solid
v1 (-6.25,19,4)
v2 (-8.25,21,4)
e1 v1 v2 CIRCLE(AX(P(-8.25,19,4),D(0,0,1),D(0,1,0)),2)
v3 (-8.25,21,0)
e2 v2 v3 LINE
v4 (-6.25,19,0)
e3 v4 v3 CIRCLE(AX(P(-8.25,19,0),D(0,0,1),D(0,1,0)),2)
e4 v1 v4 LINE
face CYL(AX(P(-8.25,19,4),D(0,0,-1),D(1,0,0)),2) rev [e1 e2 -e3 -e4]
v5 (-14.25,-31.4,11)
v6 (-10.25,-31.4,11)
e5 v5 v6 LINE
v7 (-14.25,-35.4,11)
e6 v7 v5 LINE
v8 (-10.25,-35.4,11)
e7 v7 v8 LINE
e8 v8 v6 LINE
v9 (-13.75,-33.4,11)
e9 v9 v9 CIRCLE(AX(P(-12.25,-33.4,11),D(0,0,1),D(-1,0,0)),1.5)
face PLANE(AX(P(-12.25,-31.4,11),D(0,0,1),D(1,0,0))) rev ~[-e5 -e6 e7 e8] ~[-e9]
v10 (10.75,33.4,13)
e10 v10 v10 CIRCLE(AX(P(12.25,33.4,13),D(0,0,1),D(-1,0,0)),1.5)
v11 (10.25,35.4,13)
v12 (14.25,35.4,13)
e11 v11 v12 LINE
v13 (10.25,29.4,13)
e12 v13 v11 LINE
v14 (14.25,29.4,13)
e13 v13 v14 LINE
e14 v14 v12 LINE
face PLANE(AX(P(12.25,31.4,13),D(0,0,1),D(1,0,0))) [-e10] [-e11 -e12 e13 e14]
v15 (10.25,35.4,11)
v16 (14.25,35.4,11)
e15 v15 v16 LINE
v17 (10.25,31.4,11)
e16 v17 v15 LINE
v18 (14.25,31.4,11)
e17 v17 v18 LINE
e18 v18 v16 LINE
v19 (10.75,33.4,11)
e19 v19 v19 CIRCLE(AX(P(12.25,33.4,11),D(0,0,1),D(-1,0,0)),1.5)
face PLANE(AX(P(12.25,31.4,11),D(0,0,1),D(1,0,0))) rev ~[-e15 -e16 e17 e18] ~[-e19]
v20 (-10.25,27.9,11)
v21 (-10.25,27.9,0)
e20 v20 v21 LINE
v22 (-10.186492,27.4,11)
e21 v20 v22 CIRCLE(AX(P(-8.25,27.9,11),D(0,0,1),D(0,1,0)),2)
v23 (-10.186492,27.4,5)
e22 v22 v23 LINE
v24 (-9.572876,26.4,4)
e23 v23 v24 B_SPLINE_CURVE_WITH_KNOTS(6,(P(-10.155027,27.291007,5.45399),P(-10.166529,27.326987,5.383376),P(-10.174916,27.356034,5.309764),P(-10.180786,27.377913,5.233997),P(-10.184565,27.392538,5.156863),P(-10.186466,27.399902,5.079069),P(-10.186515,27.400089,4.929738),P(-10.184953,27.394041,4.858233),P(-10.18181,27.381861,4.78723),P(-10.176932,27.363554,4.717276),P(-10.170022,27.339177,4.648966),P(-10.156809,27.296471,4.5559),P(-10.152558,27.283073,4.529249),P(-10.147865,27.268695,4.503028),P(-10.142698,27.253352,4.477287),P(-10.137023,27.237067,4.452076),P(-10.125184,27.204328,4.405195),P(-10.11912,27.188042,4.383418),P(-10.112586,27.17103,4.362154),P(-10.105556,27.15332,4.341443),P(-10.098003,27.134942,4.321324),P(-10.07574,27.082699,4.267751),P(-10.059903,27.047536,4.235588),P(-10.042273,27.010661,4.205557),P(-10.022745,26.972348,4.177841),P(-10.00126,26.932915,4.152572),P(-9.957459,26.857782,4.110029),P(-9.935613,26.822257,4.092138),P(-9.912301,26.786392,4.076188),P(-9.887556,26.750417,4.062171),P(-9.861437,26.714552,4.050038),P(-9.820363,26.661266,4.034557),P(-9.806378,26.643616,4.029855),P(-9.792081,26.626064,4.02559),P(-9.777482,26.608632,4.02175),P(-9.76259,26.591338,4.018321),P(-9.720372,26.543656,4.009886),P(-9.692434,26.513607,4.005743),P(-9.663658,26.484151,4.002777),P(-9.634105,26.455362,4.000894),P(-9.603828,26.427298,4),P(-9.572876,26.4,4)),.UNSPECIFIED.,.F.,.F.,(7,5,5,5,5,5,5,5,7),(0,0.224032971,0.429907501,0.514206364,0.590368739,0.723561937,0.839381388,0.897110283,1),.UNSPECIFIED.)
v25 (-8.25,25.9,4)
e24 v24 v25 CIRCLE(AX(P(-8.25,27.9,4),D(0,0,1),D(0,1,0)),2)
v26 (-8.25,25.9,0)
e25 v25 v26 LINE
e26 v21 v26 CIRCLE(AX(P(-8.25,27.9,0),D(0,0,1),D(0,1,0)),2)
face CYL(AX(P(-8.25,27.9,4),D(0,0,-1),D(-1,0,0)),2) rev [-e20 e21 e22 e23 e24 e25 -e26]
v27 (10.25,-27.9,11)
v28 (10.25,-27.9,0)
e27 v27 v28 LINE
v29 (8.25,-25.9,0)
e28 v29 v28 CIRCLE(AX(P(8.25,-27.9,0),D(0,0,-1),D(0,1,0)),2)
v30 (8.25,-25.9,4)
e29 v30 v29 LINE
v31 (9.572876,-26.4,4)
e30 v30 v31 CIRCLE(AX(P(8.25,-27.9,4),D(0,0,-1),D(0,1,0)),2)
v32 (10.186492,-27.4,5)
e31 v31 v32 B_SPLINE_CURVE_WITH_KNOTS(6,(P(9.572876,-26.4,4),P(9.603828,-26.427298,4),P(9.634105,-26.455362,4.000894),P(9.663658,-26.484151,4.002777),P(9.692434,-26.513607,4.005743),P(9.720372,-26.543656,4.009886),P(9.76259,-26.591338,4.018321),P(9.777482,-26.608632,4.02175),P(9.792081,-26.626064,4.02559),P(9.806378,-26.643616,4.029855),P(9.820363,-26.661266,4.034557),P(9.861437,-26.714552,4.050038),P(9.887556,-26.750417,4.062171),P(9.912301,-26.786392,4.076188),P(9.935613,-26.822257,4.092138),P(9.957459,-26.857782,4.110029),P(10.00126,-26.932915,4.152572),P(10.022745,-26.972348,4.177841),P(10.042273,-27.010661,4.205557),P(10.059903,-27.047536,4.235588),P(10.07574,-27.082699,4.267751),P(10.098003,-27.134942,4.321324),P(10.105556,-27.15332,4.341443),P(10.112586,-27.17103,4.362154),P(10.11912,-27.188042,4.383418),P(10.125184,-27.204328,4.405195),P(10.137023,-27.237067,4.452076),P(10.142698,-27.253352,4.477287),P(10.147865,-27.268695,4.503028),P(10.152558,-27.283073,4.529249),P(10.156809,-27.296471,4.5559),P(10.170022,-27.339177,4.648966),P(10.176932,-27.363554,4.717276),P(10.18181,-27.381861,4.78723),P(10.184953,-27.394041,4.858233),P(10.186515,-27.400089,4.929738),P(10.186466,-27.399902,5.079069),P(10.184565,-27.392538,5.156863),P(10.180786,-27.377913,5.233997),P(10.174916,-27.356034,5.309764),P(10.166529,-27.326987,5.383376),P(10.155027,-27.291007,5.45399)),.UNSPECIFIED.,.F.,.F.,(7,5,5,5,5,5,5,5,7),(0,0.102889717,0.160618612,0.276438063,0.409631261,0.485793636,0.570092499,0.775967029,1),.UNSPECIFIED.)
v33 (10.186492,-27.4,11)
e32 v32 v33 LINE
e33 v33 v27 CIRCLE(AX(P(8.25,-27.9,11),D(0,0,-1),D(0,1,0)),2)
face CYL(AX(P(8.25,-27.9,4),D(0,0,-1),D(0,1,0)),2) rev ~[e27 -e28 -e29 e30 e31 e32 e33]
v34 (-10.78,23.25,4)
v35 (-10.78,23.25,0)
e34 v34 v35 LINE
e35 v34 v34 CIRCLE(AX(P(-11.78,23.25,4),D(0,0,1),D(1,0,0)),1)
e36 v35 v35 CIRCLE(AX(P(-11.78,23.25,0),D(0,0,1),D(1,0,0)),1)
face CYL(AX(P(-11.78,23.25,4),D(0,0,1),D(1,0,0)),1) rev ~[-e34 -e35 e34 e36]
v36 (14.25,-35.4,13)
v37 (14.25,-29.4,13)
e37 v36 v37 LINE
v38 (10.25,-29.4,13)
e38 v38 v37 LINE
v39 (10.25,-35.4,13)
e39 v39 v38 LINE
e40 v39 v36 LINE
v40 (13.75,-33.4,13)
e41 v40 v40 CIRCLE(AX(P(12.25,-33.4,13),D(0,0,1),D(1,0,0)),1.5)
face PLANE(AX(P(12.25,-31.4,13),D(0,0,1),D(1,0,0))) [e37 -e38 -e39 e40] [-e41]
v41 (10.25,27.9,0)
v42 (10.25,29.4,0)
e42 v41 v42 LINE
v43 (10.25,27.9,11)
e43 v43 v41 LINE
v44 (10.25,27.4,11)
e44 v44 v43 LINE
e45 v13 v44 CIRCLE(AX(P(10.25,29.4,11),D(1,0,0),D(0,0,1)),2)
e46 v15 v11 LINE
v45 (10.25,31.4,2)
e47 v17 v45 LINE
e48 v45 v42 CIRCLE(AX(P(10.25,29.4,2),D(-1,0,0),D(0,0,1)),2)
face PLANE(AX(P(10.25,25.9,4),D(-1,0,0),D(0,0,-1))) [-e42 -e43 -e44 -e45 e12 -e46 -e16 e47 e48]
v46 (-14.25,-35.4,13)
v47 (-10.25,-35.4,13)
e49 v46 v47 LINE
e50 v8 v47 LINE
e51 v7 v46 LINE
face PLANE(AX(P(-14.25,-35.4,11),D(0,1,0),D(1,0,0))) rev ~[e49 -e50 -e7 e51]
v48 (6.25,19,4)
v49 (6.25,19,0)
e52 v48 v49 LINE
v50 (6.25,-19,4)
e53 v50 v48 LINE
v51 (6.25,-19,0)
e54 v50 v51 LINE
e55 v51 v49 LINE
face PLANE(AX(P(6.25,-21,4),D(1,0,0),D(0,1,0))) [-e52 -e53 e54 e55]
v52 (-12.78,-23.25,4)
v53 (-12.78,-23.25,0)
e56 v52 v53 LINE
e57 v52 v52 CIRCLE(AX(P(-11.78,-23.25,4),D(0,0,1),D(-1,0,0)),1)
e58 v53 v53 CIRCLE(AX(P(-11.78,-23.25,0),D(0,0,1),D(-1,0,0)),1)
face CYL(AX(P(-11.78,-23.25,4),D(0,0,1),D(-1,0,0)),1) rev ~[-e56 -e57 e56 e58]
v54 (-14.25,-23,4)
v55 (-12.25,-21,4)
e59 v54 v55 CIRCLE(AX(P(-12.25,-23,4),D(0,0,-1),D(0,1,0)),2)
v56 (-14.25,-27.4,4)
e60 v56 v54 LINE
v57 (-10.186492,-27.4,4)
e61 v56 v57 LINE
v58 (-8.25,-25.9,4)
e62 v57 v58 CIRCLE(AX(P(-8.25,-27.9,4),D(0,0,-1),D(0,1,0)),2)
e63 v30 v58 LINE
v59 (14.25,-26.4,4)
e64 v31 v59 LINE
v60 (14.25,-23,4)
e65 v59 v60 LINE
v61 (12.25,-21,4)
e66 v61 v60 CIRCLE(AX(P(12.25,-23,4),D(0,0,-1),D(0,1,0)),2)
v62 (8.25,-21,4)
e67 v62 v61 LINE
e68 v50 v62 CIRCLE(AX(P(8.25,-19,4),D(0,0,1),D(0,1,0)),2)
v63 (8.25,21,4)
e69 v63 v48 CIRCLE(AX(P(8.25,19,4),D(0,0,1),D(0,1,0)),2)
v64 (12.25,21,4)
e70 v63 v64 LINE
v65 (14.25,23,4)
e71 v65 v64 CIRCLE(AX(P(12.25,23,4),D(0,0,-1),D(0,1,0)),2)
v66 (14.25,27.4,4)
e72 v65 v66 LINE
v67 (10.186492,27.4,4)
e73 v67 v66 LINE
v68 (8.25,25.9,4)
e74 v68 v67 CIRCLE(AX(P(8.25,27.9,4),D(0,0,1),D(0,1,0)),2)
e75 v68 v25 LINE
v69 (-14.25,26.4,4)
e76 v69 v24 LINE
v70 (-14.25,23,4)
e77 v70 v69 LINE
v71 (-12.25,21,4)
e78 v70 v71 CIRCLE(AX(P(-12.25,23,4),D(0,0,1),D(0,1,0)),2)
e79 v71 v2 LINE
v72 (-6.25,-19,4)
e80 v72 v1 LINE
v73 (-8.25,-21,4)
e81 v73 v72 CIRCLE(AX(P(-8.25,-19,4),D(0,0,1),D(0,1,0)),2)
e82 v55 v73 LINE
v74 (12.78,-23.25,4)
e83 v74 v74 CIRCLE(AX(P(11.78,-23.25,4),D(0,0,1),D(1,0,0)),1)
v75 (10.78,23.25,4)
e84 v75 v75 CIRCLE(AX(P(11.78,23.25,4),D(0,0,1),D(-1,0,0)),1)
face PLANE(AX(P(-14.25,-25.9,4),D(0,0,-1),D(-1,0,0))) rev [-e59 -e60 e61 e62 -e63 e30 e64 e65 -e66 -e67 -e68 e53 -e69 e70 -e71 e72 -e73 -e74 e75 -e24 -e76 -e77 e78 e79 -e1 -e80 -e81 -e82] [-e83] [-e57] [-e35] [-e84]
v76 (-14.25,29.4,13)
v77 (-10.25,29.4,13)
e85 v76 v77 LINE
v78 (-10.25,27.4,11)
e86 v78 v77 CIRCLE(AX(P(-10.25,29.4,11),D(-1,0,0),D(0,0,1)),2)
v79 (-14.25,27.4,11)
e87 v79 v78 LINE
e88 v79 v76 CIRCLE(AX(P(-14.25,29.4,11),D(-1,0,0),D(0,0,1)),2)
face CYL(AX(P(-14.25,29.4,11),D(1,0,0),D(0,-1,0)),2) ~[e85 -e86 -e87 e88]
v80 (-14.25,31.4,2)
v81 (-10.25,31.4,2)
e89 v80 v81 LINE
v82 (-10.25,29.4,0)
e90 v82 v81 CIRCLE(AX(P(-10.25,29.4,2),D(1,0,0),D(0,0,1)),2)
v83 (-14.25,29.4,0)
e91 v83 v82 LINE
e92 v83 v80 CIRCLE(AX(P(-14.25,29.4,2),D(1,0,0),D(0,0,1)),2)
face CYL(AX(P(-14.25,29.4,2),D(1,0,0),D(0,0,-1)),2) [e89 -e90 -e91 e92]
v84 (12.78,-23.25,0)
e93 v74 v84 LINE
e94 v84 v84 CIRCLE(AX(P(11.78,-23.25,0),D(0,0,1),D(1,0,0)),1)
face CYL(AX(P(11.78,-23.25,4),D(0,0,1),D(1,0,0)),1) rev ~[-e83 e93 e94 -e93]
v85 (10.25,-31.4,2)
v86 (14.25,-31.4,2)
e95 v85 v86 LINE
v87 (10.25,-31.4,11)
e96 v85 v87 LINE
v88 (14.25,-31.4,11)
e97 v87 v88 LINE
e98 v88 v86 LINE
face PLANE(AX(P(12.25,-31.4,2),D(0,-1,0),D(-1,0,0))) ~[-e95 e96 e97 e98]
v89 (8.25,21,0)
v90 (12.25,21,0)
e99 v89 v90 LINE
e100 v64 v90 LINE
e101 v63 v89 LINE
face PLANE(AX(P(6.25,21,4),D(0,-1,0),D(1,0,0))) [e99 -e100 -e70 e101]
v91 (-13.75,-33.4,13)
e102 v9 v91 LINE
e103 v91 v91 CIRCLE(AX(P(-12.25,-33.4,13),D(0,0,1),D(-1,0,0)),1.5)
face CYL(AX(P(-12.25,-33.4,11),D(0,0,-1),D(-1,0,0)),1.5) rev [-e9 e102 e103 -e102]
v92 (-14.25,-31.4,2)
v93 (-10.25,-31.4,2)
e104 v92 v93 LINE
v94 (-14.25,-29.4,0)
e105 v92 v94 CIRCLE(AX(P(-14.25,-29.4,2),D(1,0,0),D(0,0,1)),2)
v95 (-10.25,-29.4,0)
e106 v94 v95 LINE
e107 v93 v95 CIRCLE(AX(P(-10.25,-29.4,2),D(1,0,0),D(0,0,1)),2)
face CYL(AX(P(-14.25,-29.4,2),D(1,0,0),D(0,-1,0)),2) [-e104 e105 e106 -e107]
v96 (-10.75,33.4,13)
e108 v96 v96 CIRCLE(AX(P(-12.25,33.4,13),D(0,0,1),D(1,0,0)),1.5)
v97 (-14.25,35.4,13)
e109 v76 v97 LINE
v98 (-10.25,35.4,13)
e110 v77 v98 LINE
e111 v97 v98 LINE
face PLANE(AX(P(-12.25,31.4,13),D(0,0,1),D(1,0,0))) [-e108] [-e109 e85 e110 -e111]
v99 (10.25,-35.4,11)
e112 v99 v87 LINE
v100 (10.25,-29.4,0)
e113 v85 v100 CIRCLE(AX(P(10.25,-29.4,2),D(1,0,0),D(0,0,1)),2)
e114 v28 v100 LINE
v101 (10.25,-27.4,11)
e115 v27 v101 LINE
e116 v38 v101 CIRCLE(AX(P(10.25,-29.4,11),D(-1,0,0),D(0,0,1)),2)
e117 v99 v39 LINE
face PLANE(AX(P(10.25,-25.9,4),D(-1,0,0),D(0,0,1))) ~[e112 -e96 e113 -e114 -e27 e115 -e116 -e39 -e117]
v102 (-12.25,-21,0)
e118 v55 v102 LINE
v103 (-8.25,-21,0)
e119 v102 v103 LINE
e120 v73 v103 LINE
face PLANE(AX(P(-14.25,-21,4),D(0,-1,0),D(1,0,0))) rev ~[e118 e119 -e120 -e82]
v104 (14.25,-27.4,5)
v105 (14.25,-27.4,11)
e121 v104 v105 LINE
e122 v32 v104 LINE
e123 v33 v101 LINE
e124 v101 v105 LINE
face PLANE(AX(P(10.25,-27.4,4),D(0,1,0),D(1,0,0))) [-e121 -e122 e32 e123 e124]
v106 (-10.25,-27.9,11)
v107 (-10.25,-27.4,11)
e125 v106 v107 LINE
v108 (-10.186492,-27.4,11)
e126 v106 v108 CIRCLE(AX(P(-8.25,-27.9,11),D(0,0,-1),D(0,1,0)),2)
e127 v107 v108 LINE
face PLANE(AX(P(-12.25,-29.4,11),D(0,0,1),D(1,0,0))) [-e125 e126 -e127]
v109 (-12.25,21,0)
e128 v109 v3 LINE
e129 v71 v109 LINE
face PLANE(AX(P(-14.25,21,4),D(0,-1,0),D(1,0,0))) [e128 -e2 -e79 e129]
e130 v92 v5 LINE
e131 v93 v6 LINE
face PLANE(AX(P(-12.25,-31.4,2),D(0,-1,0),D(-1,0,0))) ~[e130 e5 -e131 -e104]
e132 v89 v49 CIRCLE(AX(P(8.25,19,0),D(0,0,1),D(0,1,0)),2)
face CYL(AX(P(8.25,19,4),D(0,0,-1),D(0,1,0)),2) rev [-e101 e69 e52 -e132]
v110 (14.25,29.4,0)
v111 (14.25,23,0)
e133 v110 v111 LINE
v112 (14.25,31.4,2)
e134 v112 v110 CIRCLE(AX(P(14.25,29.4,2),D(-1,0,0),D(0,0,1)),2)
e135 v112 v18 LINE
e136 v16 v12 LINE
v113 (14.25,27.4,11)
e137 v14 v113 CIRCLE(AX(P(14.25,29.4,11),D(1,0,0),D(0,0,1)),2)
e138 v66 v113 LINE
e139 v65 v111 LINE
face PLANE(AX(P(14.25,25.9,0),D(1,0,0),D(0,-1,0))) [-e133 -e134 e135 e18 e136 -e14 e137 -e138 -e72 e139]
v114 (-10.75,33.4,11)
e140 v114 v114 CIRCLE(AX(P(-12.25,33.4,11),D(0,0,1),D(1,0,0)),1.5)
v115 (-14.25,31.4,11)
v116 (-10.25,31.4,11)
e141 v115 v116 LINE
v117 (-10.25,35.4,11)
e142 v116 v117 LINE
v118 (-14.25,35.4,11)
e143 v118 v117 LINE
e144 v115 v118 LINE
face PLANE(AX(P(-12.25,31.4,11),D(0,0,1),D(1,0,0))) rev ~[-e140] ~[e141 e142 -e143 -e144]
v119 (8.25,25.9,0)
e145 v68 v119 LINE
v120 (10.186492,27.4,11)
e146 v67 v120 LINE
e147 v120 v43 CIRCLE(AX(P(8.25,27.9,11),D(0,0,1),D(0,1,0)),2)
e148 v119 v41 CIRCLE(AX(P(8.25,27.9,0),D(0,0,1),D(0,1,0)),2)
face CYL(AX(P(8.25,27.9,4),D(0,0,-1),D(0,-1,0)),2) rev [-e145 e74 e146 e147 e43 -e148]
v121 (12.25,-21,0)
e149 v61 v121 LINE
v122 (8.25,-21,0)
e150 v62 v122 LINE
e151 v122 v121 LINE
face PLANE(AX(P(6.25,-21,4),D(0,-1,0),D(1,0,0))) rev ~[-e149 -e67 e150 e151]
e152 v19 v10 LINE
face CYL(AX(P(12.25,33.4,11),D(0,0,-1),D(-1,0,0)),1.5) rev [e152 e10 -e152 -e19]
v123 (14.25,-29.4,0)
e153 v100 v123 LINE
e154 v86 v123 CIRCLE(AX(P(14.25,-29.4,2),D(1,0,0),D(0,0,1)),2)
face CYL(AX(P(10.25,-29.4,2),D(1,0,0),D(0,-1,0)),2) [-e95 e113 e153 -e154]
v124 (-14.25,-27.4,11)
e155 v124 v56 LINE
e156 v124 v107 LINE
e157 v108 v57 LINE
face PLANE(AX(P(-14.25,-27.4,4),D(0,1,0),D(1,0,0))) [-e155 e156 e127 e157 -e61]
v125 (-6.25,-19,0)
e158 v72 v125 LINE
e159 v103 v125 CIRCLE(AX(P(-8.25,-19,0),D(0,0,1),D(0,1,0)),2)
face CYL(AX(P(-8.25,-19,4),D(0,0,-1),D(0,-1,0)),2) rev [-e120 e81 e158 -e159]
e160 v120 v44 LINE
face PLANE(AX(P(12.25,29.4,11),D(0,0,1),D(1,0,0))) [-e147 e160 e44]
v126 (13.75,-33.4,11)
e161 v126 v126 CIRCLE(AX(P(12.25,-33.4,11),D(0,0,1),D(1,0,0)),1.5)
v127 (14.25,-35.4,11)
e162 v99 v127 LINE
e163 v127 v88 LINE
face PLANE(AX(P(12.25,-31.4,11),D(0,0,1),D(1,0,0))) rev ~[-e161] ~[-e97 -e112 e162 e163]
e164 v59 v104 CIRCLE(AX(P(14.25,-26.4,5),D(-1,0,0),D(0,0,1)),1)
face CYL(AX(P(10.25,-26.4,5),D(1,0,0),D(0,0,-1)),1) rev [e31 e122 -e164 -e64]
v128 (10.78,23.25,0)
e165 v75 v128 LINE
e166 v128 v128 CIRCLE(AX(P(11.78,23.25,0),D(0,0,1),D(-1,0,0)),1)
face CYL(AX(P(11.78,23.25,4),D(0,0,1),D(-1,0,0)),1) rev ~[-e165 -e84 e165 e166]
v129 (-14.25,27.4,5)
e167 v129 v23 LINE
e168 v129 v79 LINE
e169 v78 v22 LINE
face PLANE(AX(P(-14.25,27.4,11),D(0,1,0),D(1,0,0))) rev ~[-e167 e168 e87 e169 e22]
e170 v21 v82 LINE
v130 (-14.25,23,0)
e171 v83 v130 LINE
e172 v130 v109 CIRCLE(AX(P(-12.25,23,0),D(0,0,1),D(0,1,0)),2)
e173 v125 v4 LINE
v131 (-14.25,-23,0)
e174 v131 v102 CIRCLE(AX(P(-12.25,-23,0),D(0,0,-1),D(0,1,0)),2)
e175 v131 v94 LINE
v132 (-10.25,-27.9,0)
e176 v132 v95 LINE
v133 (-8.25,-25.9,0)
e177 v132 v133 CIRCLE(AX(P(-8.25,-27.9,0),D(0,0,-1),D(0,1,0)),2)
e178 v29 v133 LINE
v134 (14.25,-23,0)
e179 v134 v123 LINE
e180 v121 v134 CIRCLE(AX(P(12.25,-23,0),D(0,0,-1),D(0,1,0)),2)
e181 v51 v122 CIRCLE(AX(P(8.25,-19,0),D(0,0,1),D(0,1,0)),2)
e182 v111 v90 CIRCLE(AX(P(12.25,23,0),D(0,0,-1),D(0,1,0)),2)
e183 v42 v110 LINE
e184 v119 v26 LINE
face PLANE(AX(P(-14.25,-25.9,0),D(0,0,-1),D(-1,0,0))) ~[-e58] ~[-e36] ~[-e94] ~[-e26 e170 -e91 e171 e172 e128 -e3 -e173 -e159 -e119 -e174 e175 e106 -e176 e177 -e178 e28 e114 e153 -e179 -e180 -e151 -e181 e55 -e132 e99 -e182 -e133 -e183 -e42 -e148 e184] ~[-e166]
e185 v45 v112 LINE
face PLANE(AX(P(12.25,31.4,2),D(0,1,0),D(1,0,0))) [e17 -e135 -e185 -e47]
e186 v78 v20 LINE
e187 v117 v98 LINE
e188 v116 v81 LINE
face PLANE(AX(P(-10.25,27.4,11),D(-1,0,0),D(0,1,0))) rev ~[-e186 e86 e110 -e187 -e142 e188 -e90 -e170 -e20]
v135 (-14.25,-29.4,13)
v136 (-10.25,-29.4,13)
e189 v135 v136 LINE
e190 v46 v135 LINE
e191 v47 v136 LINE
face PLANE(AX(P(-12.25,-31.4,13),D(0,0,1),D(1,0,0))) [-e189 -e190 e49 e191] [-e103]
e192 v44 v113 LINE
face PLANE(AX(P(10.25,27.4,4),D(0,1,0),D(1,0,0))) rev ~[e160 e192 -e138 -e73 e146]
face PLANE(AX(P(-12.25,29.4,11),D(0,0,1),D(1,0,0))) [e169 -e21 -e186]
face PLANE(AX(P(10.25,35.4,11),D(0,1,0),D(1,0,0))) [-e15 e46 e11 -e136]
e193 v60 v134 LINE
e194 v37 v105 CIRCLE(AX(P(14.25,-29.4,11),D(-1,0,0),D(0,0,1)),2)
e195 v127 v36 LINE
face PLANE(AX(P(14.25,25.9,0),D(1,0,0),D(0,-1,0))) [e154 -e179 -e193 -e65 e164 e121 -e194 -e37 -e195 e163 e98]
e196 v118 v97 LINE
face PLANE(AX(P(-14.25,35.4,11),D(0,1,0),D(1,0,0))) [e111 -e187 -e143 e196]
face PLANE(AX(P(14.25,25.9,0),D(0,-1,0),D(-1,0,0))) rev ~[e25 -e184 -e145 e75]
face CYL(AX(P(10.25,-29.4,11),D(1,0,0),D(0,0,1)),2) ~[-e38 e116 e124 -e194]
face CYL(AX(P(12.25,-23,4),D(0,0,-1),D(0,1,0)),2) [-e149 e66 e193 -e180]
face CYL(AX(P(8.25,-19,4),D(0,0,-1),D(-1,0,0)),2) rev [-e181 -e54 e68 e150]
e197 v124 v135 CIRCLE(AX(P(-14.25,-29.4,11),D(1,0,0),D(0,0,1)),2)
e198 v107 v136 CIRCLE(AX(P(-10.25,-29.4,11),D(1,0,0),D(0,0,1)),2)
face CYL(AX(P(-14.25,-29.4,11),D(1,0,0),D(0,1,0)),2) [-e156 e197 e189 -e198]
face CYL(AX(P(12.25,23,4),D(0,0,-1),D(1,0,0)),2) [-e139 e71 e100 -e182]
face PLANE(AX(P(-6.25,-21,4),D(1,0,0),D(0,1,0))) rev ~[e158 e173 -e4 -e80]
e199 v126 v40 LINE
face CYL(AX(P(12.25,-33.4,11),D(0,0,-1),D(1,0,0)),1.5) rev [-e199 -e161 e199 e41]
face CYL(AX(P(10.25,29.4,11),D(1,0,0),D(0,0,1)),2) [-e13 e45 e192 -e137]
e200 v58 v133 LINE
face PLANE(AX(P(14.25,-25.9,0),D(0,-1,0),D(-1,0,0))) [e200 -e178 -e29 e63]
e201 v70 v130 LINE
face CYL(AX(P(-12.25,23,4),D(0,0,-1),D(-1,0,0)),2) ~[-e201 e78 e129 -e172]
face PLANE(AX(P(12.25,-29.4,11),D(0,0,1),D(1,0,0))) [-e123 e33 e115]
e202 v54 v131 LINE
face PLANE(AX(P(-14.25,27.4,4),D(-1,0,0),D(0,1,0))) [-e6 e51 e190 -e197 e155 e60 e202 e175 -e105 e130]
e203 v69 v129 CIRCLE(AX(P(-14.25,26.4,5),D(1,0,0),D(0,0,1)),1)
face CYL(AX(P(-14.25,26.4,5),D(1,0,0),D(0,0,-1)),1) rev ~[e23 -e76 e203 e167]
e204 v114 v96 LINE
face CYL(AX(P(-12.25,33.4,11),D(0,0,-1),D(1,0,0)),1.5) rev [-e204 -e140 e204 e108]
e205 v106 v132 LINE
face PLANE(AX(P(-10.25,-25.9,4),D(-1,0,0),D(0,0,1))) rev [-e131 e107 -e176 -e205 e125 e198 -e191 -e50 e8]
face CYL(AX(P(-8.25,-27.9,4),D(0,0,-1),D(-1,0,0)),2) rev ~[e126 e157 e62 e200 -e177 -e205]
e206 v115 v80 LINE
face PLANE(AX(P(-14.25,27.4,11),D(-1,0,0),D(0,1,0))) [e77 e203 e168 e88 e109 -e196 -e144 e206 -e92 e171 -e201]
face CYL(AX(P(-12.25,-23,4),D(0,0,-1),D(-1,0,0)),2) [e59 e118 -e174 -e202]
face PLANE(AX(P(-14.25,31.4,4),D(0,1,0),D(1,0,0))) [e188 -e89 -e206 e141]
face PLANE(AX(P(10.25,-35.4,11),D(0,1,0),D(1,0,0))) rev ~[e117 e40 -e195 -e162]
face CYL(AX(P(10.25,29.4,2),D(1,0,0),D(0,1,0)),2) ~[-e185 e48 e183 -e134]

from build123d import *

# Parameters (mm, degrees)
SKETCH3_W           = 28.5
SKETCH3_H           = 51.8
BOSS_EXTRUDE4_DEPTH = 4
SKETCH7_W           = 4
SKETCH7_H           = 4
BOSS_EXTRUDE5_DEPTH = 5.5
SKETCH8_W           = 4
SKETCH8_H           = 4
BOSS_EXTRUDE6_DEPTH = 7
SKETCH10_R          = 1
CUT_EXTRUDE2_DEPTH  = 4
SKETCH11_W          = 8
SKETCH11_H          = 42
CUT_EXTRUDE3_DEPTH  = 36.185543907
FILLET2_R           = 1
FILLET3_R           = 2
SKETCH9_W           = 4
SKETCH9_H           = 8
SKETCH9_R           = 1.5
BOSS_EXTRUDE8_DEPTH = 2
FILLET4_R           = 2


with BuildPart() as part:
    # Sketch3 → Boss-Extrude4 (new body)
    with BuildSketch(Plane(origin=(0, 0, 0), x_dir=(-1, 0, 0), z_dir=(0, 0, 1))):
        Rectangle(SKETCH3_W, SKETCH3_H)
    extrude(amount=BOSS_EXTRUDE4_DEPTH)

    # Sketch7 → Boss-Extrude5 (add)
    with BuildSketch(Plane(origin=(0, 25.9, 0), x_dir=(1, 0, 0), z_dir=(0, 1, 0))):
        with Locations((-12.25, -2)):
            Rectangle(SKETCH7_W, SKETCH7_H)
        with Locations((12.25, -2)):
            Rectangle(SKETCH7_W, SKETCH7_H)
    boss_extrude5 = extrude(amount=BOSS_EXTRUDE5_DEPTH)

    # Mirror1: Boss-Extrude5 across plane
    add(boss_extrude5.mirror(Plane.ZX))

    # Sketch8 → Boss-Extrude6 (add)
    with BuildSketch(Plane.XY.offset(4)):
        with Locations((-12.25, 29.4)):
            Rectangle(SKETCH8_W, SKETCH8_H)
        with Locations((12.25, 29.4)):
            Rectangle(SKETCH8_W, SKETCH8_H)
        with Locations((12.25, -29.4)):
            Rectangle(SKETCH8_W, SKETCH8_H)
        with Locations((-12.25, -29.4)):
            Rectangle(SKETCH8_W, SKETCH8_H)
    extrude(amount=BOSS_EXTRUDE6_DEPTH)

    # Sketch10 → Cut-Extrude2 (cut)
    with BuildSketch(Plane.XY.offset(4)):
        with Locations((-11.78, 23.25)):
            Circle(SKETCH10_R)
        with Locations(Location((-11.78, -23.25, 0), (0, 0, 180))):
            Circle(SKETCH10_R)
        with Locations((11.78, -23.25)):
            Circle(SKETCH10_R)
        with Locations(Location((11.78, 23.25, 0), (0, 0, 180))):
            Circle(SKETCH10_R)
    extrude(amount=-CUT_EXTRUDE2_DEPTH, mode=Mode.SUBTRACT)

    # Sketch11 → Cut-Extrude3 (cut, through all)
    with BuildSketch(Plane.XY.offset(4)):
        with Locations((-10.25, 0)):
            Rectangle(SKETCH11_W, SKETCH11_H)
        with Locations((10.25, 0)):
            Rectangle(SKETCH11_W, SKETCH11_H)
    extrude(amount=-CUT_EXTRUDE3_DEPTH, mode=Mode.SUBTRACT)

    # Fillet2
    fillet2_edges = [part.edges().sort_by_distance(p)[0] for p in [
        (12.25, -27.4, 4),
        (-12.25, 27.4, 4),
    ]]
    fillet(fillet2_edges, radius=FILLET2_R)

    # Fillet3
    fillet3_edges = [part.edges().sort_by_distance(p)[0] for p in [
        (-10.25, -25.9, 2),
        (10.25, -25.9, 2),
        (-10.25, 25.9, 2),
        (10.25, 25.9, 2),
    ]]
    fillet(fillet3_edges, radius=FILLET3_R)

    # Sketch9 → Boss-Extrude8 (add)
    # profile 1 of 4: a face of its own
    with BuildSketch(Plane.XY.offset(11)):
        with Locations((-12.25, 31.4)):
            Rectangle(SKETCH9_W, SKETCH9_H)
        with Locations((-12.25, 33.4)):
            Circle(SKETCH9_R, mode=Mode.SUBTRACT)
    # profile 2 of 4: a face of its own
    with BuildSketch(Plane.XY.offset(11)):
        with Locations((12.25, 31.4)):
            Rectangle(SKETCH9_W, SKETCH9_H)
        with Locations(Location((12.25, 33.4, 0), (0, 0, 180))):
            Circle(SKETCH9_R, mode=Mode.SUBTRACT)
    # profile 3 of 4: a face of its own
    with BuildSketch(Plane.XY.offset(11)):
        with Locations((12.25, -31.4)):
            Rectangle(SKETCH9_W, SKETCH9_H)
        with Locations((12.25, -33.4)):
            Circle(SKETCH9_R, mode=Mode.SUBTRACT)
    # profile 4 of 4: a face of its own
    with BuildSketch(Plane.XY.offset(11)):
        with Locations((-12.25, -31.4)):
            Rectangle(SKETCH9_W, SKETCH9_H)
        with Locations(Location((-12.25, -33.4, 0), (0, 0, 180))):
            Circle(SKETCH9_R, mode=Mode.SUBTRACT)
    extrude(amount=BOSS_EXTRUDE8_DEPTH)

    # Fillet4
    fillet4_edges = [part.edges().sort_by_distance(p)[0] for p in [
        (-14.25, -21, 2),
        (-14.25, 21, 2),
        (-6.25, 21, 2),
        (-6.25, -21, 2),
        (6.25, 21, 2),
        (14.25, 21, 2),
        (14.25, -21, 2),
        (6.25, -21, 2),
        (-12.25, 31.4, 0),
        (-12.25, -27.4, 13),
        (12.25, 31.4, 0),
        (12.25, -27.4, 13),
        (12.25, 27.4, 13),
        (-12.25, 27.4, 13),
        (-12.25, -31.4, 0),
        (12.25, -31.4, 0),
    ]]
    fillet(fillet4_edges, radius=FILLET4_R)


solid = part.part
